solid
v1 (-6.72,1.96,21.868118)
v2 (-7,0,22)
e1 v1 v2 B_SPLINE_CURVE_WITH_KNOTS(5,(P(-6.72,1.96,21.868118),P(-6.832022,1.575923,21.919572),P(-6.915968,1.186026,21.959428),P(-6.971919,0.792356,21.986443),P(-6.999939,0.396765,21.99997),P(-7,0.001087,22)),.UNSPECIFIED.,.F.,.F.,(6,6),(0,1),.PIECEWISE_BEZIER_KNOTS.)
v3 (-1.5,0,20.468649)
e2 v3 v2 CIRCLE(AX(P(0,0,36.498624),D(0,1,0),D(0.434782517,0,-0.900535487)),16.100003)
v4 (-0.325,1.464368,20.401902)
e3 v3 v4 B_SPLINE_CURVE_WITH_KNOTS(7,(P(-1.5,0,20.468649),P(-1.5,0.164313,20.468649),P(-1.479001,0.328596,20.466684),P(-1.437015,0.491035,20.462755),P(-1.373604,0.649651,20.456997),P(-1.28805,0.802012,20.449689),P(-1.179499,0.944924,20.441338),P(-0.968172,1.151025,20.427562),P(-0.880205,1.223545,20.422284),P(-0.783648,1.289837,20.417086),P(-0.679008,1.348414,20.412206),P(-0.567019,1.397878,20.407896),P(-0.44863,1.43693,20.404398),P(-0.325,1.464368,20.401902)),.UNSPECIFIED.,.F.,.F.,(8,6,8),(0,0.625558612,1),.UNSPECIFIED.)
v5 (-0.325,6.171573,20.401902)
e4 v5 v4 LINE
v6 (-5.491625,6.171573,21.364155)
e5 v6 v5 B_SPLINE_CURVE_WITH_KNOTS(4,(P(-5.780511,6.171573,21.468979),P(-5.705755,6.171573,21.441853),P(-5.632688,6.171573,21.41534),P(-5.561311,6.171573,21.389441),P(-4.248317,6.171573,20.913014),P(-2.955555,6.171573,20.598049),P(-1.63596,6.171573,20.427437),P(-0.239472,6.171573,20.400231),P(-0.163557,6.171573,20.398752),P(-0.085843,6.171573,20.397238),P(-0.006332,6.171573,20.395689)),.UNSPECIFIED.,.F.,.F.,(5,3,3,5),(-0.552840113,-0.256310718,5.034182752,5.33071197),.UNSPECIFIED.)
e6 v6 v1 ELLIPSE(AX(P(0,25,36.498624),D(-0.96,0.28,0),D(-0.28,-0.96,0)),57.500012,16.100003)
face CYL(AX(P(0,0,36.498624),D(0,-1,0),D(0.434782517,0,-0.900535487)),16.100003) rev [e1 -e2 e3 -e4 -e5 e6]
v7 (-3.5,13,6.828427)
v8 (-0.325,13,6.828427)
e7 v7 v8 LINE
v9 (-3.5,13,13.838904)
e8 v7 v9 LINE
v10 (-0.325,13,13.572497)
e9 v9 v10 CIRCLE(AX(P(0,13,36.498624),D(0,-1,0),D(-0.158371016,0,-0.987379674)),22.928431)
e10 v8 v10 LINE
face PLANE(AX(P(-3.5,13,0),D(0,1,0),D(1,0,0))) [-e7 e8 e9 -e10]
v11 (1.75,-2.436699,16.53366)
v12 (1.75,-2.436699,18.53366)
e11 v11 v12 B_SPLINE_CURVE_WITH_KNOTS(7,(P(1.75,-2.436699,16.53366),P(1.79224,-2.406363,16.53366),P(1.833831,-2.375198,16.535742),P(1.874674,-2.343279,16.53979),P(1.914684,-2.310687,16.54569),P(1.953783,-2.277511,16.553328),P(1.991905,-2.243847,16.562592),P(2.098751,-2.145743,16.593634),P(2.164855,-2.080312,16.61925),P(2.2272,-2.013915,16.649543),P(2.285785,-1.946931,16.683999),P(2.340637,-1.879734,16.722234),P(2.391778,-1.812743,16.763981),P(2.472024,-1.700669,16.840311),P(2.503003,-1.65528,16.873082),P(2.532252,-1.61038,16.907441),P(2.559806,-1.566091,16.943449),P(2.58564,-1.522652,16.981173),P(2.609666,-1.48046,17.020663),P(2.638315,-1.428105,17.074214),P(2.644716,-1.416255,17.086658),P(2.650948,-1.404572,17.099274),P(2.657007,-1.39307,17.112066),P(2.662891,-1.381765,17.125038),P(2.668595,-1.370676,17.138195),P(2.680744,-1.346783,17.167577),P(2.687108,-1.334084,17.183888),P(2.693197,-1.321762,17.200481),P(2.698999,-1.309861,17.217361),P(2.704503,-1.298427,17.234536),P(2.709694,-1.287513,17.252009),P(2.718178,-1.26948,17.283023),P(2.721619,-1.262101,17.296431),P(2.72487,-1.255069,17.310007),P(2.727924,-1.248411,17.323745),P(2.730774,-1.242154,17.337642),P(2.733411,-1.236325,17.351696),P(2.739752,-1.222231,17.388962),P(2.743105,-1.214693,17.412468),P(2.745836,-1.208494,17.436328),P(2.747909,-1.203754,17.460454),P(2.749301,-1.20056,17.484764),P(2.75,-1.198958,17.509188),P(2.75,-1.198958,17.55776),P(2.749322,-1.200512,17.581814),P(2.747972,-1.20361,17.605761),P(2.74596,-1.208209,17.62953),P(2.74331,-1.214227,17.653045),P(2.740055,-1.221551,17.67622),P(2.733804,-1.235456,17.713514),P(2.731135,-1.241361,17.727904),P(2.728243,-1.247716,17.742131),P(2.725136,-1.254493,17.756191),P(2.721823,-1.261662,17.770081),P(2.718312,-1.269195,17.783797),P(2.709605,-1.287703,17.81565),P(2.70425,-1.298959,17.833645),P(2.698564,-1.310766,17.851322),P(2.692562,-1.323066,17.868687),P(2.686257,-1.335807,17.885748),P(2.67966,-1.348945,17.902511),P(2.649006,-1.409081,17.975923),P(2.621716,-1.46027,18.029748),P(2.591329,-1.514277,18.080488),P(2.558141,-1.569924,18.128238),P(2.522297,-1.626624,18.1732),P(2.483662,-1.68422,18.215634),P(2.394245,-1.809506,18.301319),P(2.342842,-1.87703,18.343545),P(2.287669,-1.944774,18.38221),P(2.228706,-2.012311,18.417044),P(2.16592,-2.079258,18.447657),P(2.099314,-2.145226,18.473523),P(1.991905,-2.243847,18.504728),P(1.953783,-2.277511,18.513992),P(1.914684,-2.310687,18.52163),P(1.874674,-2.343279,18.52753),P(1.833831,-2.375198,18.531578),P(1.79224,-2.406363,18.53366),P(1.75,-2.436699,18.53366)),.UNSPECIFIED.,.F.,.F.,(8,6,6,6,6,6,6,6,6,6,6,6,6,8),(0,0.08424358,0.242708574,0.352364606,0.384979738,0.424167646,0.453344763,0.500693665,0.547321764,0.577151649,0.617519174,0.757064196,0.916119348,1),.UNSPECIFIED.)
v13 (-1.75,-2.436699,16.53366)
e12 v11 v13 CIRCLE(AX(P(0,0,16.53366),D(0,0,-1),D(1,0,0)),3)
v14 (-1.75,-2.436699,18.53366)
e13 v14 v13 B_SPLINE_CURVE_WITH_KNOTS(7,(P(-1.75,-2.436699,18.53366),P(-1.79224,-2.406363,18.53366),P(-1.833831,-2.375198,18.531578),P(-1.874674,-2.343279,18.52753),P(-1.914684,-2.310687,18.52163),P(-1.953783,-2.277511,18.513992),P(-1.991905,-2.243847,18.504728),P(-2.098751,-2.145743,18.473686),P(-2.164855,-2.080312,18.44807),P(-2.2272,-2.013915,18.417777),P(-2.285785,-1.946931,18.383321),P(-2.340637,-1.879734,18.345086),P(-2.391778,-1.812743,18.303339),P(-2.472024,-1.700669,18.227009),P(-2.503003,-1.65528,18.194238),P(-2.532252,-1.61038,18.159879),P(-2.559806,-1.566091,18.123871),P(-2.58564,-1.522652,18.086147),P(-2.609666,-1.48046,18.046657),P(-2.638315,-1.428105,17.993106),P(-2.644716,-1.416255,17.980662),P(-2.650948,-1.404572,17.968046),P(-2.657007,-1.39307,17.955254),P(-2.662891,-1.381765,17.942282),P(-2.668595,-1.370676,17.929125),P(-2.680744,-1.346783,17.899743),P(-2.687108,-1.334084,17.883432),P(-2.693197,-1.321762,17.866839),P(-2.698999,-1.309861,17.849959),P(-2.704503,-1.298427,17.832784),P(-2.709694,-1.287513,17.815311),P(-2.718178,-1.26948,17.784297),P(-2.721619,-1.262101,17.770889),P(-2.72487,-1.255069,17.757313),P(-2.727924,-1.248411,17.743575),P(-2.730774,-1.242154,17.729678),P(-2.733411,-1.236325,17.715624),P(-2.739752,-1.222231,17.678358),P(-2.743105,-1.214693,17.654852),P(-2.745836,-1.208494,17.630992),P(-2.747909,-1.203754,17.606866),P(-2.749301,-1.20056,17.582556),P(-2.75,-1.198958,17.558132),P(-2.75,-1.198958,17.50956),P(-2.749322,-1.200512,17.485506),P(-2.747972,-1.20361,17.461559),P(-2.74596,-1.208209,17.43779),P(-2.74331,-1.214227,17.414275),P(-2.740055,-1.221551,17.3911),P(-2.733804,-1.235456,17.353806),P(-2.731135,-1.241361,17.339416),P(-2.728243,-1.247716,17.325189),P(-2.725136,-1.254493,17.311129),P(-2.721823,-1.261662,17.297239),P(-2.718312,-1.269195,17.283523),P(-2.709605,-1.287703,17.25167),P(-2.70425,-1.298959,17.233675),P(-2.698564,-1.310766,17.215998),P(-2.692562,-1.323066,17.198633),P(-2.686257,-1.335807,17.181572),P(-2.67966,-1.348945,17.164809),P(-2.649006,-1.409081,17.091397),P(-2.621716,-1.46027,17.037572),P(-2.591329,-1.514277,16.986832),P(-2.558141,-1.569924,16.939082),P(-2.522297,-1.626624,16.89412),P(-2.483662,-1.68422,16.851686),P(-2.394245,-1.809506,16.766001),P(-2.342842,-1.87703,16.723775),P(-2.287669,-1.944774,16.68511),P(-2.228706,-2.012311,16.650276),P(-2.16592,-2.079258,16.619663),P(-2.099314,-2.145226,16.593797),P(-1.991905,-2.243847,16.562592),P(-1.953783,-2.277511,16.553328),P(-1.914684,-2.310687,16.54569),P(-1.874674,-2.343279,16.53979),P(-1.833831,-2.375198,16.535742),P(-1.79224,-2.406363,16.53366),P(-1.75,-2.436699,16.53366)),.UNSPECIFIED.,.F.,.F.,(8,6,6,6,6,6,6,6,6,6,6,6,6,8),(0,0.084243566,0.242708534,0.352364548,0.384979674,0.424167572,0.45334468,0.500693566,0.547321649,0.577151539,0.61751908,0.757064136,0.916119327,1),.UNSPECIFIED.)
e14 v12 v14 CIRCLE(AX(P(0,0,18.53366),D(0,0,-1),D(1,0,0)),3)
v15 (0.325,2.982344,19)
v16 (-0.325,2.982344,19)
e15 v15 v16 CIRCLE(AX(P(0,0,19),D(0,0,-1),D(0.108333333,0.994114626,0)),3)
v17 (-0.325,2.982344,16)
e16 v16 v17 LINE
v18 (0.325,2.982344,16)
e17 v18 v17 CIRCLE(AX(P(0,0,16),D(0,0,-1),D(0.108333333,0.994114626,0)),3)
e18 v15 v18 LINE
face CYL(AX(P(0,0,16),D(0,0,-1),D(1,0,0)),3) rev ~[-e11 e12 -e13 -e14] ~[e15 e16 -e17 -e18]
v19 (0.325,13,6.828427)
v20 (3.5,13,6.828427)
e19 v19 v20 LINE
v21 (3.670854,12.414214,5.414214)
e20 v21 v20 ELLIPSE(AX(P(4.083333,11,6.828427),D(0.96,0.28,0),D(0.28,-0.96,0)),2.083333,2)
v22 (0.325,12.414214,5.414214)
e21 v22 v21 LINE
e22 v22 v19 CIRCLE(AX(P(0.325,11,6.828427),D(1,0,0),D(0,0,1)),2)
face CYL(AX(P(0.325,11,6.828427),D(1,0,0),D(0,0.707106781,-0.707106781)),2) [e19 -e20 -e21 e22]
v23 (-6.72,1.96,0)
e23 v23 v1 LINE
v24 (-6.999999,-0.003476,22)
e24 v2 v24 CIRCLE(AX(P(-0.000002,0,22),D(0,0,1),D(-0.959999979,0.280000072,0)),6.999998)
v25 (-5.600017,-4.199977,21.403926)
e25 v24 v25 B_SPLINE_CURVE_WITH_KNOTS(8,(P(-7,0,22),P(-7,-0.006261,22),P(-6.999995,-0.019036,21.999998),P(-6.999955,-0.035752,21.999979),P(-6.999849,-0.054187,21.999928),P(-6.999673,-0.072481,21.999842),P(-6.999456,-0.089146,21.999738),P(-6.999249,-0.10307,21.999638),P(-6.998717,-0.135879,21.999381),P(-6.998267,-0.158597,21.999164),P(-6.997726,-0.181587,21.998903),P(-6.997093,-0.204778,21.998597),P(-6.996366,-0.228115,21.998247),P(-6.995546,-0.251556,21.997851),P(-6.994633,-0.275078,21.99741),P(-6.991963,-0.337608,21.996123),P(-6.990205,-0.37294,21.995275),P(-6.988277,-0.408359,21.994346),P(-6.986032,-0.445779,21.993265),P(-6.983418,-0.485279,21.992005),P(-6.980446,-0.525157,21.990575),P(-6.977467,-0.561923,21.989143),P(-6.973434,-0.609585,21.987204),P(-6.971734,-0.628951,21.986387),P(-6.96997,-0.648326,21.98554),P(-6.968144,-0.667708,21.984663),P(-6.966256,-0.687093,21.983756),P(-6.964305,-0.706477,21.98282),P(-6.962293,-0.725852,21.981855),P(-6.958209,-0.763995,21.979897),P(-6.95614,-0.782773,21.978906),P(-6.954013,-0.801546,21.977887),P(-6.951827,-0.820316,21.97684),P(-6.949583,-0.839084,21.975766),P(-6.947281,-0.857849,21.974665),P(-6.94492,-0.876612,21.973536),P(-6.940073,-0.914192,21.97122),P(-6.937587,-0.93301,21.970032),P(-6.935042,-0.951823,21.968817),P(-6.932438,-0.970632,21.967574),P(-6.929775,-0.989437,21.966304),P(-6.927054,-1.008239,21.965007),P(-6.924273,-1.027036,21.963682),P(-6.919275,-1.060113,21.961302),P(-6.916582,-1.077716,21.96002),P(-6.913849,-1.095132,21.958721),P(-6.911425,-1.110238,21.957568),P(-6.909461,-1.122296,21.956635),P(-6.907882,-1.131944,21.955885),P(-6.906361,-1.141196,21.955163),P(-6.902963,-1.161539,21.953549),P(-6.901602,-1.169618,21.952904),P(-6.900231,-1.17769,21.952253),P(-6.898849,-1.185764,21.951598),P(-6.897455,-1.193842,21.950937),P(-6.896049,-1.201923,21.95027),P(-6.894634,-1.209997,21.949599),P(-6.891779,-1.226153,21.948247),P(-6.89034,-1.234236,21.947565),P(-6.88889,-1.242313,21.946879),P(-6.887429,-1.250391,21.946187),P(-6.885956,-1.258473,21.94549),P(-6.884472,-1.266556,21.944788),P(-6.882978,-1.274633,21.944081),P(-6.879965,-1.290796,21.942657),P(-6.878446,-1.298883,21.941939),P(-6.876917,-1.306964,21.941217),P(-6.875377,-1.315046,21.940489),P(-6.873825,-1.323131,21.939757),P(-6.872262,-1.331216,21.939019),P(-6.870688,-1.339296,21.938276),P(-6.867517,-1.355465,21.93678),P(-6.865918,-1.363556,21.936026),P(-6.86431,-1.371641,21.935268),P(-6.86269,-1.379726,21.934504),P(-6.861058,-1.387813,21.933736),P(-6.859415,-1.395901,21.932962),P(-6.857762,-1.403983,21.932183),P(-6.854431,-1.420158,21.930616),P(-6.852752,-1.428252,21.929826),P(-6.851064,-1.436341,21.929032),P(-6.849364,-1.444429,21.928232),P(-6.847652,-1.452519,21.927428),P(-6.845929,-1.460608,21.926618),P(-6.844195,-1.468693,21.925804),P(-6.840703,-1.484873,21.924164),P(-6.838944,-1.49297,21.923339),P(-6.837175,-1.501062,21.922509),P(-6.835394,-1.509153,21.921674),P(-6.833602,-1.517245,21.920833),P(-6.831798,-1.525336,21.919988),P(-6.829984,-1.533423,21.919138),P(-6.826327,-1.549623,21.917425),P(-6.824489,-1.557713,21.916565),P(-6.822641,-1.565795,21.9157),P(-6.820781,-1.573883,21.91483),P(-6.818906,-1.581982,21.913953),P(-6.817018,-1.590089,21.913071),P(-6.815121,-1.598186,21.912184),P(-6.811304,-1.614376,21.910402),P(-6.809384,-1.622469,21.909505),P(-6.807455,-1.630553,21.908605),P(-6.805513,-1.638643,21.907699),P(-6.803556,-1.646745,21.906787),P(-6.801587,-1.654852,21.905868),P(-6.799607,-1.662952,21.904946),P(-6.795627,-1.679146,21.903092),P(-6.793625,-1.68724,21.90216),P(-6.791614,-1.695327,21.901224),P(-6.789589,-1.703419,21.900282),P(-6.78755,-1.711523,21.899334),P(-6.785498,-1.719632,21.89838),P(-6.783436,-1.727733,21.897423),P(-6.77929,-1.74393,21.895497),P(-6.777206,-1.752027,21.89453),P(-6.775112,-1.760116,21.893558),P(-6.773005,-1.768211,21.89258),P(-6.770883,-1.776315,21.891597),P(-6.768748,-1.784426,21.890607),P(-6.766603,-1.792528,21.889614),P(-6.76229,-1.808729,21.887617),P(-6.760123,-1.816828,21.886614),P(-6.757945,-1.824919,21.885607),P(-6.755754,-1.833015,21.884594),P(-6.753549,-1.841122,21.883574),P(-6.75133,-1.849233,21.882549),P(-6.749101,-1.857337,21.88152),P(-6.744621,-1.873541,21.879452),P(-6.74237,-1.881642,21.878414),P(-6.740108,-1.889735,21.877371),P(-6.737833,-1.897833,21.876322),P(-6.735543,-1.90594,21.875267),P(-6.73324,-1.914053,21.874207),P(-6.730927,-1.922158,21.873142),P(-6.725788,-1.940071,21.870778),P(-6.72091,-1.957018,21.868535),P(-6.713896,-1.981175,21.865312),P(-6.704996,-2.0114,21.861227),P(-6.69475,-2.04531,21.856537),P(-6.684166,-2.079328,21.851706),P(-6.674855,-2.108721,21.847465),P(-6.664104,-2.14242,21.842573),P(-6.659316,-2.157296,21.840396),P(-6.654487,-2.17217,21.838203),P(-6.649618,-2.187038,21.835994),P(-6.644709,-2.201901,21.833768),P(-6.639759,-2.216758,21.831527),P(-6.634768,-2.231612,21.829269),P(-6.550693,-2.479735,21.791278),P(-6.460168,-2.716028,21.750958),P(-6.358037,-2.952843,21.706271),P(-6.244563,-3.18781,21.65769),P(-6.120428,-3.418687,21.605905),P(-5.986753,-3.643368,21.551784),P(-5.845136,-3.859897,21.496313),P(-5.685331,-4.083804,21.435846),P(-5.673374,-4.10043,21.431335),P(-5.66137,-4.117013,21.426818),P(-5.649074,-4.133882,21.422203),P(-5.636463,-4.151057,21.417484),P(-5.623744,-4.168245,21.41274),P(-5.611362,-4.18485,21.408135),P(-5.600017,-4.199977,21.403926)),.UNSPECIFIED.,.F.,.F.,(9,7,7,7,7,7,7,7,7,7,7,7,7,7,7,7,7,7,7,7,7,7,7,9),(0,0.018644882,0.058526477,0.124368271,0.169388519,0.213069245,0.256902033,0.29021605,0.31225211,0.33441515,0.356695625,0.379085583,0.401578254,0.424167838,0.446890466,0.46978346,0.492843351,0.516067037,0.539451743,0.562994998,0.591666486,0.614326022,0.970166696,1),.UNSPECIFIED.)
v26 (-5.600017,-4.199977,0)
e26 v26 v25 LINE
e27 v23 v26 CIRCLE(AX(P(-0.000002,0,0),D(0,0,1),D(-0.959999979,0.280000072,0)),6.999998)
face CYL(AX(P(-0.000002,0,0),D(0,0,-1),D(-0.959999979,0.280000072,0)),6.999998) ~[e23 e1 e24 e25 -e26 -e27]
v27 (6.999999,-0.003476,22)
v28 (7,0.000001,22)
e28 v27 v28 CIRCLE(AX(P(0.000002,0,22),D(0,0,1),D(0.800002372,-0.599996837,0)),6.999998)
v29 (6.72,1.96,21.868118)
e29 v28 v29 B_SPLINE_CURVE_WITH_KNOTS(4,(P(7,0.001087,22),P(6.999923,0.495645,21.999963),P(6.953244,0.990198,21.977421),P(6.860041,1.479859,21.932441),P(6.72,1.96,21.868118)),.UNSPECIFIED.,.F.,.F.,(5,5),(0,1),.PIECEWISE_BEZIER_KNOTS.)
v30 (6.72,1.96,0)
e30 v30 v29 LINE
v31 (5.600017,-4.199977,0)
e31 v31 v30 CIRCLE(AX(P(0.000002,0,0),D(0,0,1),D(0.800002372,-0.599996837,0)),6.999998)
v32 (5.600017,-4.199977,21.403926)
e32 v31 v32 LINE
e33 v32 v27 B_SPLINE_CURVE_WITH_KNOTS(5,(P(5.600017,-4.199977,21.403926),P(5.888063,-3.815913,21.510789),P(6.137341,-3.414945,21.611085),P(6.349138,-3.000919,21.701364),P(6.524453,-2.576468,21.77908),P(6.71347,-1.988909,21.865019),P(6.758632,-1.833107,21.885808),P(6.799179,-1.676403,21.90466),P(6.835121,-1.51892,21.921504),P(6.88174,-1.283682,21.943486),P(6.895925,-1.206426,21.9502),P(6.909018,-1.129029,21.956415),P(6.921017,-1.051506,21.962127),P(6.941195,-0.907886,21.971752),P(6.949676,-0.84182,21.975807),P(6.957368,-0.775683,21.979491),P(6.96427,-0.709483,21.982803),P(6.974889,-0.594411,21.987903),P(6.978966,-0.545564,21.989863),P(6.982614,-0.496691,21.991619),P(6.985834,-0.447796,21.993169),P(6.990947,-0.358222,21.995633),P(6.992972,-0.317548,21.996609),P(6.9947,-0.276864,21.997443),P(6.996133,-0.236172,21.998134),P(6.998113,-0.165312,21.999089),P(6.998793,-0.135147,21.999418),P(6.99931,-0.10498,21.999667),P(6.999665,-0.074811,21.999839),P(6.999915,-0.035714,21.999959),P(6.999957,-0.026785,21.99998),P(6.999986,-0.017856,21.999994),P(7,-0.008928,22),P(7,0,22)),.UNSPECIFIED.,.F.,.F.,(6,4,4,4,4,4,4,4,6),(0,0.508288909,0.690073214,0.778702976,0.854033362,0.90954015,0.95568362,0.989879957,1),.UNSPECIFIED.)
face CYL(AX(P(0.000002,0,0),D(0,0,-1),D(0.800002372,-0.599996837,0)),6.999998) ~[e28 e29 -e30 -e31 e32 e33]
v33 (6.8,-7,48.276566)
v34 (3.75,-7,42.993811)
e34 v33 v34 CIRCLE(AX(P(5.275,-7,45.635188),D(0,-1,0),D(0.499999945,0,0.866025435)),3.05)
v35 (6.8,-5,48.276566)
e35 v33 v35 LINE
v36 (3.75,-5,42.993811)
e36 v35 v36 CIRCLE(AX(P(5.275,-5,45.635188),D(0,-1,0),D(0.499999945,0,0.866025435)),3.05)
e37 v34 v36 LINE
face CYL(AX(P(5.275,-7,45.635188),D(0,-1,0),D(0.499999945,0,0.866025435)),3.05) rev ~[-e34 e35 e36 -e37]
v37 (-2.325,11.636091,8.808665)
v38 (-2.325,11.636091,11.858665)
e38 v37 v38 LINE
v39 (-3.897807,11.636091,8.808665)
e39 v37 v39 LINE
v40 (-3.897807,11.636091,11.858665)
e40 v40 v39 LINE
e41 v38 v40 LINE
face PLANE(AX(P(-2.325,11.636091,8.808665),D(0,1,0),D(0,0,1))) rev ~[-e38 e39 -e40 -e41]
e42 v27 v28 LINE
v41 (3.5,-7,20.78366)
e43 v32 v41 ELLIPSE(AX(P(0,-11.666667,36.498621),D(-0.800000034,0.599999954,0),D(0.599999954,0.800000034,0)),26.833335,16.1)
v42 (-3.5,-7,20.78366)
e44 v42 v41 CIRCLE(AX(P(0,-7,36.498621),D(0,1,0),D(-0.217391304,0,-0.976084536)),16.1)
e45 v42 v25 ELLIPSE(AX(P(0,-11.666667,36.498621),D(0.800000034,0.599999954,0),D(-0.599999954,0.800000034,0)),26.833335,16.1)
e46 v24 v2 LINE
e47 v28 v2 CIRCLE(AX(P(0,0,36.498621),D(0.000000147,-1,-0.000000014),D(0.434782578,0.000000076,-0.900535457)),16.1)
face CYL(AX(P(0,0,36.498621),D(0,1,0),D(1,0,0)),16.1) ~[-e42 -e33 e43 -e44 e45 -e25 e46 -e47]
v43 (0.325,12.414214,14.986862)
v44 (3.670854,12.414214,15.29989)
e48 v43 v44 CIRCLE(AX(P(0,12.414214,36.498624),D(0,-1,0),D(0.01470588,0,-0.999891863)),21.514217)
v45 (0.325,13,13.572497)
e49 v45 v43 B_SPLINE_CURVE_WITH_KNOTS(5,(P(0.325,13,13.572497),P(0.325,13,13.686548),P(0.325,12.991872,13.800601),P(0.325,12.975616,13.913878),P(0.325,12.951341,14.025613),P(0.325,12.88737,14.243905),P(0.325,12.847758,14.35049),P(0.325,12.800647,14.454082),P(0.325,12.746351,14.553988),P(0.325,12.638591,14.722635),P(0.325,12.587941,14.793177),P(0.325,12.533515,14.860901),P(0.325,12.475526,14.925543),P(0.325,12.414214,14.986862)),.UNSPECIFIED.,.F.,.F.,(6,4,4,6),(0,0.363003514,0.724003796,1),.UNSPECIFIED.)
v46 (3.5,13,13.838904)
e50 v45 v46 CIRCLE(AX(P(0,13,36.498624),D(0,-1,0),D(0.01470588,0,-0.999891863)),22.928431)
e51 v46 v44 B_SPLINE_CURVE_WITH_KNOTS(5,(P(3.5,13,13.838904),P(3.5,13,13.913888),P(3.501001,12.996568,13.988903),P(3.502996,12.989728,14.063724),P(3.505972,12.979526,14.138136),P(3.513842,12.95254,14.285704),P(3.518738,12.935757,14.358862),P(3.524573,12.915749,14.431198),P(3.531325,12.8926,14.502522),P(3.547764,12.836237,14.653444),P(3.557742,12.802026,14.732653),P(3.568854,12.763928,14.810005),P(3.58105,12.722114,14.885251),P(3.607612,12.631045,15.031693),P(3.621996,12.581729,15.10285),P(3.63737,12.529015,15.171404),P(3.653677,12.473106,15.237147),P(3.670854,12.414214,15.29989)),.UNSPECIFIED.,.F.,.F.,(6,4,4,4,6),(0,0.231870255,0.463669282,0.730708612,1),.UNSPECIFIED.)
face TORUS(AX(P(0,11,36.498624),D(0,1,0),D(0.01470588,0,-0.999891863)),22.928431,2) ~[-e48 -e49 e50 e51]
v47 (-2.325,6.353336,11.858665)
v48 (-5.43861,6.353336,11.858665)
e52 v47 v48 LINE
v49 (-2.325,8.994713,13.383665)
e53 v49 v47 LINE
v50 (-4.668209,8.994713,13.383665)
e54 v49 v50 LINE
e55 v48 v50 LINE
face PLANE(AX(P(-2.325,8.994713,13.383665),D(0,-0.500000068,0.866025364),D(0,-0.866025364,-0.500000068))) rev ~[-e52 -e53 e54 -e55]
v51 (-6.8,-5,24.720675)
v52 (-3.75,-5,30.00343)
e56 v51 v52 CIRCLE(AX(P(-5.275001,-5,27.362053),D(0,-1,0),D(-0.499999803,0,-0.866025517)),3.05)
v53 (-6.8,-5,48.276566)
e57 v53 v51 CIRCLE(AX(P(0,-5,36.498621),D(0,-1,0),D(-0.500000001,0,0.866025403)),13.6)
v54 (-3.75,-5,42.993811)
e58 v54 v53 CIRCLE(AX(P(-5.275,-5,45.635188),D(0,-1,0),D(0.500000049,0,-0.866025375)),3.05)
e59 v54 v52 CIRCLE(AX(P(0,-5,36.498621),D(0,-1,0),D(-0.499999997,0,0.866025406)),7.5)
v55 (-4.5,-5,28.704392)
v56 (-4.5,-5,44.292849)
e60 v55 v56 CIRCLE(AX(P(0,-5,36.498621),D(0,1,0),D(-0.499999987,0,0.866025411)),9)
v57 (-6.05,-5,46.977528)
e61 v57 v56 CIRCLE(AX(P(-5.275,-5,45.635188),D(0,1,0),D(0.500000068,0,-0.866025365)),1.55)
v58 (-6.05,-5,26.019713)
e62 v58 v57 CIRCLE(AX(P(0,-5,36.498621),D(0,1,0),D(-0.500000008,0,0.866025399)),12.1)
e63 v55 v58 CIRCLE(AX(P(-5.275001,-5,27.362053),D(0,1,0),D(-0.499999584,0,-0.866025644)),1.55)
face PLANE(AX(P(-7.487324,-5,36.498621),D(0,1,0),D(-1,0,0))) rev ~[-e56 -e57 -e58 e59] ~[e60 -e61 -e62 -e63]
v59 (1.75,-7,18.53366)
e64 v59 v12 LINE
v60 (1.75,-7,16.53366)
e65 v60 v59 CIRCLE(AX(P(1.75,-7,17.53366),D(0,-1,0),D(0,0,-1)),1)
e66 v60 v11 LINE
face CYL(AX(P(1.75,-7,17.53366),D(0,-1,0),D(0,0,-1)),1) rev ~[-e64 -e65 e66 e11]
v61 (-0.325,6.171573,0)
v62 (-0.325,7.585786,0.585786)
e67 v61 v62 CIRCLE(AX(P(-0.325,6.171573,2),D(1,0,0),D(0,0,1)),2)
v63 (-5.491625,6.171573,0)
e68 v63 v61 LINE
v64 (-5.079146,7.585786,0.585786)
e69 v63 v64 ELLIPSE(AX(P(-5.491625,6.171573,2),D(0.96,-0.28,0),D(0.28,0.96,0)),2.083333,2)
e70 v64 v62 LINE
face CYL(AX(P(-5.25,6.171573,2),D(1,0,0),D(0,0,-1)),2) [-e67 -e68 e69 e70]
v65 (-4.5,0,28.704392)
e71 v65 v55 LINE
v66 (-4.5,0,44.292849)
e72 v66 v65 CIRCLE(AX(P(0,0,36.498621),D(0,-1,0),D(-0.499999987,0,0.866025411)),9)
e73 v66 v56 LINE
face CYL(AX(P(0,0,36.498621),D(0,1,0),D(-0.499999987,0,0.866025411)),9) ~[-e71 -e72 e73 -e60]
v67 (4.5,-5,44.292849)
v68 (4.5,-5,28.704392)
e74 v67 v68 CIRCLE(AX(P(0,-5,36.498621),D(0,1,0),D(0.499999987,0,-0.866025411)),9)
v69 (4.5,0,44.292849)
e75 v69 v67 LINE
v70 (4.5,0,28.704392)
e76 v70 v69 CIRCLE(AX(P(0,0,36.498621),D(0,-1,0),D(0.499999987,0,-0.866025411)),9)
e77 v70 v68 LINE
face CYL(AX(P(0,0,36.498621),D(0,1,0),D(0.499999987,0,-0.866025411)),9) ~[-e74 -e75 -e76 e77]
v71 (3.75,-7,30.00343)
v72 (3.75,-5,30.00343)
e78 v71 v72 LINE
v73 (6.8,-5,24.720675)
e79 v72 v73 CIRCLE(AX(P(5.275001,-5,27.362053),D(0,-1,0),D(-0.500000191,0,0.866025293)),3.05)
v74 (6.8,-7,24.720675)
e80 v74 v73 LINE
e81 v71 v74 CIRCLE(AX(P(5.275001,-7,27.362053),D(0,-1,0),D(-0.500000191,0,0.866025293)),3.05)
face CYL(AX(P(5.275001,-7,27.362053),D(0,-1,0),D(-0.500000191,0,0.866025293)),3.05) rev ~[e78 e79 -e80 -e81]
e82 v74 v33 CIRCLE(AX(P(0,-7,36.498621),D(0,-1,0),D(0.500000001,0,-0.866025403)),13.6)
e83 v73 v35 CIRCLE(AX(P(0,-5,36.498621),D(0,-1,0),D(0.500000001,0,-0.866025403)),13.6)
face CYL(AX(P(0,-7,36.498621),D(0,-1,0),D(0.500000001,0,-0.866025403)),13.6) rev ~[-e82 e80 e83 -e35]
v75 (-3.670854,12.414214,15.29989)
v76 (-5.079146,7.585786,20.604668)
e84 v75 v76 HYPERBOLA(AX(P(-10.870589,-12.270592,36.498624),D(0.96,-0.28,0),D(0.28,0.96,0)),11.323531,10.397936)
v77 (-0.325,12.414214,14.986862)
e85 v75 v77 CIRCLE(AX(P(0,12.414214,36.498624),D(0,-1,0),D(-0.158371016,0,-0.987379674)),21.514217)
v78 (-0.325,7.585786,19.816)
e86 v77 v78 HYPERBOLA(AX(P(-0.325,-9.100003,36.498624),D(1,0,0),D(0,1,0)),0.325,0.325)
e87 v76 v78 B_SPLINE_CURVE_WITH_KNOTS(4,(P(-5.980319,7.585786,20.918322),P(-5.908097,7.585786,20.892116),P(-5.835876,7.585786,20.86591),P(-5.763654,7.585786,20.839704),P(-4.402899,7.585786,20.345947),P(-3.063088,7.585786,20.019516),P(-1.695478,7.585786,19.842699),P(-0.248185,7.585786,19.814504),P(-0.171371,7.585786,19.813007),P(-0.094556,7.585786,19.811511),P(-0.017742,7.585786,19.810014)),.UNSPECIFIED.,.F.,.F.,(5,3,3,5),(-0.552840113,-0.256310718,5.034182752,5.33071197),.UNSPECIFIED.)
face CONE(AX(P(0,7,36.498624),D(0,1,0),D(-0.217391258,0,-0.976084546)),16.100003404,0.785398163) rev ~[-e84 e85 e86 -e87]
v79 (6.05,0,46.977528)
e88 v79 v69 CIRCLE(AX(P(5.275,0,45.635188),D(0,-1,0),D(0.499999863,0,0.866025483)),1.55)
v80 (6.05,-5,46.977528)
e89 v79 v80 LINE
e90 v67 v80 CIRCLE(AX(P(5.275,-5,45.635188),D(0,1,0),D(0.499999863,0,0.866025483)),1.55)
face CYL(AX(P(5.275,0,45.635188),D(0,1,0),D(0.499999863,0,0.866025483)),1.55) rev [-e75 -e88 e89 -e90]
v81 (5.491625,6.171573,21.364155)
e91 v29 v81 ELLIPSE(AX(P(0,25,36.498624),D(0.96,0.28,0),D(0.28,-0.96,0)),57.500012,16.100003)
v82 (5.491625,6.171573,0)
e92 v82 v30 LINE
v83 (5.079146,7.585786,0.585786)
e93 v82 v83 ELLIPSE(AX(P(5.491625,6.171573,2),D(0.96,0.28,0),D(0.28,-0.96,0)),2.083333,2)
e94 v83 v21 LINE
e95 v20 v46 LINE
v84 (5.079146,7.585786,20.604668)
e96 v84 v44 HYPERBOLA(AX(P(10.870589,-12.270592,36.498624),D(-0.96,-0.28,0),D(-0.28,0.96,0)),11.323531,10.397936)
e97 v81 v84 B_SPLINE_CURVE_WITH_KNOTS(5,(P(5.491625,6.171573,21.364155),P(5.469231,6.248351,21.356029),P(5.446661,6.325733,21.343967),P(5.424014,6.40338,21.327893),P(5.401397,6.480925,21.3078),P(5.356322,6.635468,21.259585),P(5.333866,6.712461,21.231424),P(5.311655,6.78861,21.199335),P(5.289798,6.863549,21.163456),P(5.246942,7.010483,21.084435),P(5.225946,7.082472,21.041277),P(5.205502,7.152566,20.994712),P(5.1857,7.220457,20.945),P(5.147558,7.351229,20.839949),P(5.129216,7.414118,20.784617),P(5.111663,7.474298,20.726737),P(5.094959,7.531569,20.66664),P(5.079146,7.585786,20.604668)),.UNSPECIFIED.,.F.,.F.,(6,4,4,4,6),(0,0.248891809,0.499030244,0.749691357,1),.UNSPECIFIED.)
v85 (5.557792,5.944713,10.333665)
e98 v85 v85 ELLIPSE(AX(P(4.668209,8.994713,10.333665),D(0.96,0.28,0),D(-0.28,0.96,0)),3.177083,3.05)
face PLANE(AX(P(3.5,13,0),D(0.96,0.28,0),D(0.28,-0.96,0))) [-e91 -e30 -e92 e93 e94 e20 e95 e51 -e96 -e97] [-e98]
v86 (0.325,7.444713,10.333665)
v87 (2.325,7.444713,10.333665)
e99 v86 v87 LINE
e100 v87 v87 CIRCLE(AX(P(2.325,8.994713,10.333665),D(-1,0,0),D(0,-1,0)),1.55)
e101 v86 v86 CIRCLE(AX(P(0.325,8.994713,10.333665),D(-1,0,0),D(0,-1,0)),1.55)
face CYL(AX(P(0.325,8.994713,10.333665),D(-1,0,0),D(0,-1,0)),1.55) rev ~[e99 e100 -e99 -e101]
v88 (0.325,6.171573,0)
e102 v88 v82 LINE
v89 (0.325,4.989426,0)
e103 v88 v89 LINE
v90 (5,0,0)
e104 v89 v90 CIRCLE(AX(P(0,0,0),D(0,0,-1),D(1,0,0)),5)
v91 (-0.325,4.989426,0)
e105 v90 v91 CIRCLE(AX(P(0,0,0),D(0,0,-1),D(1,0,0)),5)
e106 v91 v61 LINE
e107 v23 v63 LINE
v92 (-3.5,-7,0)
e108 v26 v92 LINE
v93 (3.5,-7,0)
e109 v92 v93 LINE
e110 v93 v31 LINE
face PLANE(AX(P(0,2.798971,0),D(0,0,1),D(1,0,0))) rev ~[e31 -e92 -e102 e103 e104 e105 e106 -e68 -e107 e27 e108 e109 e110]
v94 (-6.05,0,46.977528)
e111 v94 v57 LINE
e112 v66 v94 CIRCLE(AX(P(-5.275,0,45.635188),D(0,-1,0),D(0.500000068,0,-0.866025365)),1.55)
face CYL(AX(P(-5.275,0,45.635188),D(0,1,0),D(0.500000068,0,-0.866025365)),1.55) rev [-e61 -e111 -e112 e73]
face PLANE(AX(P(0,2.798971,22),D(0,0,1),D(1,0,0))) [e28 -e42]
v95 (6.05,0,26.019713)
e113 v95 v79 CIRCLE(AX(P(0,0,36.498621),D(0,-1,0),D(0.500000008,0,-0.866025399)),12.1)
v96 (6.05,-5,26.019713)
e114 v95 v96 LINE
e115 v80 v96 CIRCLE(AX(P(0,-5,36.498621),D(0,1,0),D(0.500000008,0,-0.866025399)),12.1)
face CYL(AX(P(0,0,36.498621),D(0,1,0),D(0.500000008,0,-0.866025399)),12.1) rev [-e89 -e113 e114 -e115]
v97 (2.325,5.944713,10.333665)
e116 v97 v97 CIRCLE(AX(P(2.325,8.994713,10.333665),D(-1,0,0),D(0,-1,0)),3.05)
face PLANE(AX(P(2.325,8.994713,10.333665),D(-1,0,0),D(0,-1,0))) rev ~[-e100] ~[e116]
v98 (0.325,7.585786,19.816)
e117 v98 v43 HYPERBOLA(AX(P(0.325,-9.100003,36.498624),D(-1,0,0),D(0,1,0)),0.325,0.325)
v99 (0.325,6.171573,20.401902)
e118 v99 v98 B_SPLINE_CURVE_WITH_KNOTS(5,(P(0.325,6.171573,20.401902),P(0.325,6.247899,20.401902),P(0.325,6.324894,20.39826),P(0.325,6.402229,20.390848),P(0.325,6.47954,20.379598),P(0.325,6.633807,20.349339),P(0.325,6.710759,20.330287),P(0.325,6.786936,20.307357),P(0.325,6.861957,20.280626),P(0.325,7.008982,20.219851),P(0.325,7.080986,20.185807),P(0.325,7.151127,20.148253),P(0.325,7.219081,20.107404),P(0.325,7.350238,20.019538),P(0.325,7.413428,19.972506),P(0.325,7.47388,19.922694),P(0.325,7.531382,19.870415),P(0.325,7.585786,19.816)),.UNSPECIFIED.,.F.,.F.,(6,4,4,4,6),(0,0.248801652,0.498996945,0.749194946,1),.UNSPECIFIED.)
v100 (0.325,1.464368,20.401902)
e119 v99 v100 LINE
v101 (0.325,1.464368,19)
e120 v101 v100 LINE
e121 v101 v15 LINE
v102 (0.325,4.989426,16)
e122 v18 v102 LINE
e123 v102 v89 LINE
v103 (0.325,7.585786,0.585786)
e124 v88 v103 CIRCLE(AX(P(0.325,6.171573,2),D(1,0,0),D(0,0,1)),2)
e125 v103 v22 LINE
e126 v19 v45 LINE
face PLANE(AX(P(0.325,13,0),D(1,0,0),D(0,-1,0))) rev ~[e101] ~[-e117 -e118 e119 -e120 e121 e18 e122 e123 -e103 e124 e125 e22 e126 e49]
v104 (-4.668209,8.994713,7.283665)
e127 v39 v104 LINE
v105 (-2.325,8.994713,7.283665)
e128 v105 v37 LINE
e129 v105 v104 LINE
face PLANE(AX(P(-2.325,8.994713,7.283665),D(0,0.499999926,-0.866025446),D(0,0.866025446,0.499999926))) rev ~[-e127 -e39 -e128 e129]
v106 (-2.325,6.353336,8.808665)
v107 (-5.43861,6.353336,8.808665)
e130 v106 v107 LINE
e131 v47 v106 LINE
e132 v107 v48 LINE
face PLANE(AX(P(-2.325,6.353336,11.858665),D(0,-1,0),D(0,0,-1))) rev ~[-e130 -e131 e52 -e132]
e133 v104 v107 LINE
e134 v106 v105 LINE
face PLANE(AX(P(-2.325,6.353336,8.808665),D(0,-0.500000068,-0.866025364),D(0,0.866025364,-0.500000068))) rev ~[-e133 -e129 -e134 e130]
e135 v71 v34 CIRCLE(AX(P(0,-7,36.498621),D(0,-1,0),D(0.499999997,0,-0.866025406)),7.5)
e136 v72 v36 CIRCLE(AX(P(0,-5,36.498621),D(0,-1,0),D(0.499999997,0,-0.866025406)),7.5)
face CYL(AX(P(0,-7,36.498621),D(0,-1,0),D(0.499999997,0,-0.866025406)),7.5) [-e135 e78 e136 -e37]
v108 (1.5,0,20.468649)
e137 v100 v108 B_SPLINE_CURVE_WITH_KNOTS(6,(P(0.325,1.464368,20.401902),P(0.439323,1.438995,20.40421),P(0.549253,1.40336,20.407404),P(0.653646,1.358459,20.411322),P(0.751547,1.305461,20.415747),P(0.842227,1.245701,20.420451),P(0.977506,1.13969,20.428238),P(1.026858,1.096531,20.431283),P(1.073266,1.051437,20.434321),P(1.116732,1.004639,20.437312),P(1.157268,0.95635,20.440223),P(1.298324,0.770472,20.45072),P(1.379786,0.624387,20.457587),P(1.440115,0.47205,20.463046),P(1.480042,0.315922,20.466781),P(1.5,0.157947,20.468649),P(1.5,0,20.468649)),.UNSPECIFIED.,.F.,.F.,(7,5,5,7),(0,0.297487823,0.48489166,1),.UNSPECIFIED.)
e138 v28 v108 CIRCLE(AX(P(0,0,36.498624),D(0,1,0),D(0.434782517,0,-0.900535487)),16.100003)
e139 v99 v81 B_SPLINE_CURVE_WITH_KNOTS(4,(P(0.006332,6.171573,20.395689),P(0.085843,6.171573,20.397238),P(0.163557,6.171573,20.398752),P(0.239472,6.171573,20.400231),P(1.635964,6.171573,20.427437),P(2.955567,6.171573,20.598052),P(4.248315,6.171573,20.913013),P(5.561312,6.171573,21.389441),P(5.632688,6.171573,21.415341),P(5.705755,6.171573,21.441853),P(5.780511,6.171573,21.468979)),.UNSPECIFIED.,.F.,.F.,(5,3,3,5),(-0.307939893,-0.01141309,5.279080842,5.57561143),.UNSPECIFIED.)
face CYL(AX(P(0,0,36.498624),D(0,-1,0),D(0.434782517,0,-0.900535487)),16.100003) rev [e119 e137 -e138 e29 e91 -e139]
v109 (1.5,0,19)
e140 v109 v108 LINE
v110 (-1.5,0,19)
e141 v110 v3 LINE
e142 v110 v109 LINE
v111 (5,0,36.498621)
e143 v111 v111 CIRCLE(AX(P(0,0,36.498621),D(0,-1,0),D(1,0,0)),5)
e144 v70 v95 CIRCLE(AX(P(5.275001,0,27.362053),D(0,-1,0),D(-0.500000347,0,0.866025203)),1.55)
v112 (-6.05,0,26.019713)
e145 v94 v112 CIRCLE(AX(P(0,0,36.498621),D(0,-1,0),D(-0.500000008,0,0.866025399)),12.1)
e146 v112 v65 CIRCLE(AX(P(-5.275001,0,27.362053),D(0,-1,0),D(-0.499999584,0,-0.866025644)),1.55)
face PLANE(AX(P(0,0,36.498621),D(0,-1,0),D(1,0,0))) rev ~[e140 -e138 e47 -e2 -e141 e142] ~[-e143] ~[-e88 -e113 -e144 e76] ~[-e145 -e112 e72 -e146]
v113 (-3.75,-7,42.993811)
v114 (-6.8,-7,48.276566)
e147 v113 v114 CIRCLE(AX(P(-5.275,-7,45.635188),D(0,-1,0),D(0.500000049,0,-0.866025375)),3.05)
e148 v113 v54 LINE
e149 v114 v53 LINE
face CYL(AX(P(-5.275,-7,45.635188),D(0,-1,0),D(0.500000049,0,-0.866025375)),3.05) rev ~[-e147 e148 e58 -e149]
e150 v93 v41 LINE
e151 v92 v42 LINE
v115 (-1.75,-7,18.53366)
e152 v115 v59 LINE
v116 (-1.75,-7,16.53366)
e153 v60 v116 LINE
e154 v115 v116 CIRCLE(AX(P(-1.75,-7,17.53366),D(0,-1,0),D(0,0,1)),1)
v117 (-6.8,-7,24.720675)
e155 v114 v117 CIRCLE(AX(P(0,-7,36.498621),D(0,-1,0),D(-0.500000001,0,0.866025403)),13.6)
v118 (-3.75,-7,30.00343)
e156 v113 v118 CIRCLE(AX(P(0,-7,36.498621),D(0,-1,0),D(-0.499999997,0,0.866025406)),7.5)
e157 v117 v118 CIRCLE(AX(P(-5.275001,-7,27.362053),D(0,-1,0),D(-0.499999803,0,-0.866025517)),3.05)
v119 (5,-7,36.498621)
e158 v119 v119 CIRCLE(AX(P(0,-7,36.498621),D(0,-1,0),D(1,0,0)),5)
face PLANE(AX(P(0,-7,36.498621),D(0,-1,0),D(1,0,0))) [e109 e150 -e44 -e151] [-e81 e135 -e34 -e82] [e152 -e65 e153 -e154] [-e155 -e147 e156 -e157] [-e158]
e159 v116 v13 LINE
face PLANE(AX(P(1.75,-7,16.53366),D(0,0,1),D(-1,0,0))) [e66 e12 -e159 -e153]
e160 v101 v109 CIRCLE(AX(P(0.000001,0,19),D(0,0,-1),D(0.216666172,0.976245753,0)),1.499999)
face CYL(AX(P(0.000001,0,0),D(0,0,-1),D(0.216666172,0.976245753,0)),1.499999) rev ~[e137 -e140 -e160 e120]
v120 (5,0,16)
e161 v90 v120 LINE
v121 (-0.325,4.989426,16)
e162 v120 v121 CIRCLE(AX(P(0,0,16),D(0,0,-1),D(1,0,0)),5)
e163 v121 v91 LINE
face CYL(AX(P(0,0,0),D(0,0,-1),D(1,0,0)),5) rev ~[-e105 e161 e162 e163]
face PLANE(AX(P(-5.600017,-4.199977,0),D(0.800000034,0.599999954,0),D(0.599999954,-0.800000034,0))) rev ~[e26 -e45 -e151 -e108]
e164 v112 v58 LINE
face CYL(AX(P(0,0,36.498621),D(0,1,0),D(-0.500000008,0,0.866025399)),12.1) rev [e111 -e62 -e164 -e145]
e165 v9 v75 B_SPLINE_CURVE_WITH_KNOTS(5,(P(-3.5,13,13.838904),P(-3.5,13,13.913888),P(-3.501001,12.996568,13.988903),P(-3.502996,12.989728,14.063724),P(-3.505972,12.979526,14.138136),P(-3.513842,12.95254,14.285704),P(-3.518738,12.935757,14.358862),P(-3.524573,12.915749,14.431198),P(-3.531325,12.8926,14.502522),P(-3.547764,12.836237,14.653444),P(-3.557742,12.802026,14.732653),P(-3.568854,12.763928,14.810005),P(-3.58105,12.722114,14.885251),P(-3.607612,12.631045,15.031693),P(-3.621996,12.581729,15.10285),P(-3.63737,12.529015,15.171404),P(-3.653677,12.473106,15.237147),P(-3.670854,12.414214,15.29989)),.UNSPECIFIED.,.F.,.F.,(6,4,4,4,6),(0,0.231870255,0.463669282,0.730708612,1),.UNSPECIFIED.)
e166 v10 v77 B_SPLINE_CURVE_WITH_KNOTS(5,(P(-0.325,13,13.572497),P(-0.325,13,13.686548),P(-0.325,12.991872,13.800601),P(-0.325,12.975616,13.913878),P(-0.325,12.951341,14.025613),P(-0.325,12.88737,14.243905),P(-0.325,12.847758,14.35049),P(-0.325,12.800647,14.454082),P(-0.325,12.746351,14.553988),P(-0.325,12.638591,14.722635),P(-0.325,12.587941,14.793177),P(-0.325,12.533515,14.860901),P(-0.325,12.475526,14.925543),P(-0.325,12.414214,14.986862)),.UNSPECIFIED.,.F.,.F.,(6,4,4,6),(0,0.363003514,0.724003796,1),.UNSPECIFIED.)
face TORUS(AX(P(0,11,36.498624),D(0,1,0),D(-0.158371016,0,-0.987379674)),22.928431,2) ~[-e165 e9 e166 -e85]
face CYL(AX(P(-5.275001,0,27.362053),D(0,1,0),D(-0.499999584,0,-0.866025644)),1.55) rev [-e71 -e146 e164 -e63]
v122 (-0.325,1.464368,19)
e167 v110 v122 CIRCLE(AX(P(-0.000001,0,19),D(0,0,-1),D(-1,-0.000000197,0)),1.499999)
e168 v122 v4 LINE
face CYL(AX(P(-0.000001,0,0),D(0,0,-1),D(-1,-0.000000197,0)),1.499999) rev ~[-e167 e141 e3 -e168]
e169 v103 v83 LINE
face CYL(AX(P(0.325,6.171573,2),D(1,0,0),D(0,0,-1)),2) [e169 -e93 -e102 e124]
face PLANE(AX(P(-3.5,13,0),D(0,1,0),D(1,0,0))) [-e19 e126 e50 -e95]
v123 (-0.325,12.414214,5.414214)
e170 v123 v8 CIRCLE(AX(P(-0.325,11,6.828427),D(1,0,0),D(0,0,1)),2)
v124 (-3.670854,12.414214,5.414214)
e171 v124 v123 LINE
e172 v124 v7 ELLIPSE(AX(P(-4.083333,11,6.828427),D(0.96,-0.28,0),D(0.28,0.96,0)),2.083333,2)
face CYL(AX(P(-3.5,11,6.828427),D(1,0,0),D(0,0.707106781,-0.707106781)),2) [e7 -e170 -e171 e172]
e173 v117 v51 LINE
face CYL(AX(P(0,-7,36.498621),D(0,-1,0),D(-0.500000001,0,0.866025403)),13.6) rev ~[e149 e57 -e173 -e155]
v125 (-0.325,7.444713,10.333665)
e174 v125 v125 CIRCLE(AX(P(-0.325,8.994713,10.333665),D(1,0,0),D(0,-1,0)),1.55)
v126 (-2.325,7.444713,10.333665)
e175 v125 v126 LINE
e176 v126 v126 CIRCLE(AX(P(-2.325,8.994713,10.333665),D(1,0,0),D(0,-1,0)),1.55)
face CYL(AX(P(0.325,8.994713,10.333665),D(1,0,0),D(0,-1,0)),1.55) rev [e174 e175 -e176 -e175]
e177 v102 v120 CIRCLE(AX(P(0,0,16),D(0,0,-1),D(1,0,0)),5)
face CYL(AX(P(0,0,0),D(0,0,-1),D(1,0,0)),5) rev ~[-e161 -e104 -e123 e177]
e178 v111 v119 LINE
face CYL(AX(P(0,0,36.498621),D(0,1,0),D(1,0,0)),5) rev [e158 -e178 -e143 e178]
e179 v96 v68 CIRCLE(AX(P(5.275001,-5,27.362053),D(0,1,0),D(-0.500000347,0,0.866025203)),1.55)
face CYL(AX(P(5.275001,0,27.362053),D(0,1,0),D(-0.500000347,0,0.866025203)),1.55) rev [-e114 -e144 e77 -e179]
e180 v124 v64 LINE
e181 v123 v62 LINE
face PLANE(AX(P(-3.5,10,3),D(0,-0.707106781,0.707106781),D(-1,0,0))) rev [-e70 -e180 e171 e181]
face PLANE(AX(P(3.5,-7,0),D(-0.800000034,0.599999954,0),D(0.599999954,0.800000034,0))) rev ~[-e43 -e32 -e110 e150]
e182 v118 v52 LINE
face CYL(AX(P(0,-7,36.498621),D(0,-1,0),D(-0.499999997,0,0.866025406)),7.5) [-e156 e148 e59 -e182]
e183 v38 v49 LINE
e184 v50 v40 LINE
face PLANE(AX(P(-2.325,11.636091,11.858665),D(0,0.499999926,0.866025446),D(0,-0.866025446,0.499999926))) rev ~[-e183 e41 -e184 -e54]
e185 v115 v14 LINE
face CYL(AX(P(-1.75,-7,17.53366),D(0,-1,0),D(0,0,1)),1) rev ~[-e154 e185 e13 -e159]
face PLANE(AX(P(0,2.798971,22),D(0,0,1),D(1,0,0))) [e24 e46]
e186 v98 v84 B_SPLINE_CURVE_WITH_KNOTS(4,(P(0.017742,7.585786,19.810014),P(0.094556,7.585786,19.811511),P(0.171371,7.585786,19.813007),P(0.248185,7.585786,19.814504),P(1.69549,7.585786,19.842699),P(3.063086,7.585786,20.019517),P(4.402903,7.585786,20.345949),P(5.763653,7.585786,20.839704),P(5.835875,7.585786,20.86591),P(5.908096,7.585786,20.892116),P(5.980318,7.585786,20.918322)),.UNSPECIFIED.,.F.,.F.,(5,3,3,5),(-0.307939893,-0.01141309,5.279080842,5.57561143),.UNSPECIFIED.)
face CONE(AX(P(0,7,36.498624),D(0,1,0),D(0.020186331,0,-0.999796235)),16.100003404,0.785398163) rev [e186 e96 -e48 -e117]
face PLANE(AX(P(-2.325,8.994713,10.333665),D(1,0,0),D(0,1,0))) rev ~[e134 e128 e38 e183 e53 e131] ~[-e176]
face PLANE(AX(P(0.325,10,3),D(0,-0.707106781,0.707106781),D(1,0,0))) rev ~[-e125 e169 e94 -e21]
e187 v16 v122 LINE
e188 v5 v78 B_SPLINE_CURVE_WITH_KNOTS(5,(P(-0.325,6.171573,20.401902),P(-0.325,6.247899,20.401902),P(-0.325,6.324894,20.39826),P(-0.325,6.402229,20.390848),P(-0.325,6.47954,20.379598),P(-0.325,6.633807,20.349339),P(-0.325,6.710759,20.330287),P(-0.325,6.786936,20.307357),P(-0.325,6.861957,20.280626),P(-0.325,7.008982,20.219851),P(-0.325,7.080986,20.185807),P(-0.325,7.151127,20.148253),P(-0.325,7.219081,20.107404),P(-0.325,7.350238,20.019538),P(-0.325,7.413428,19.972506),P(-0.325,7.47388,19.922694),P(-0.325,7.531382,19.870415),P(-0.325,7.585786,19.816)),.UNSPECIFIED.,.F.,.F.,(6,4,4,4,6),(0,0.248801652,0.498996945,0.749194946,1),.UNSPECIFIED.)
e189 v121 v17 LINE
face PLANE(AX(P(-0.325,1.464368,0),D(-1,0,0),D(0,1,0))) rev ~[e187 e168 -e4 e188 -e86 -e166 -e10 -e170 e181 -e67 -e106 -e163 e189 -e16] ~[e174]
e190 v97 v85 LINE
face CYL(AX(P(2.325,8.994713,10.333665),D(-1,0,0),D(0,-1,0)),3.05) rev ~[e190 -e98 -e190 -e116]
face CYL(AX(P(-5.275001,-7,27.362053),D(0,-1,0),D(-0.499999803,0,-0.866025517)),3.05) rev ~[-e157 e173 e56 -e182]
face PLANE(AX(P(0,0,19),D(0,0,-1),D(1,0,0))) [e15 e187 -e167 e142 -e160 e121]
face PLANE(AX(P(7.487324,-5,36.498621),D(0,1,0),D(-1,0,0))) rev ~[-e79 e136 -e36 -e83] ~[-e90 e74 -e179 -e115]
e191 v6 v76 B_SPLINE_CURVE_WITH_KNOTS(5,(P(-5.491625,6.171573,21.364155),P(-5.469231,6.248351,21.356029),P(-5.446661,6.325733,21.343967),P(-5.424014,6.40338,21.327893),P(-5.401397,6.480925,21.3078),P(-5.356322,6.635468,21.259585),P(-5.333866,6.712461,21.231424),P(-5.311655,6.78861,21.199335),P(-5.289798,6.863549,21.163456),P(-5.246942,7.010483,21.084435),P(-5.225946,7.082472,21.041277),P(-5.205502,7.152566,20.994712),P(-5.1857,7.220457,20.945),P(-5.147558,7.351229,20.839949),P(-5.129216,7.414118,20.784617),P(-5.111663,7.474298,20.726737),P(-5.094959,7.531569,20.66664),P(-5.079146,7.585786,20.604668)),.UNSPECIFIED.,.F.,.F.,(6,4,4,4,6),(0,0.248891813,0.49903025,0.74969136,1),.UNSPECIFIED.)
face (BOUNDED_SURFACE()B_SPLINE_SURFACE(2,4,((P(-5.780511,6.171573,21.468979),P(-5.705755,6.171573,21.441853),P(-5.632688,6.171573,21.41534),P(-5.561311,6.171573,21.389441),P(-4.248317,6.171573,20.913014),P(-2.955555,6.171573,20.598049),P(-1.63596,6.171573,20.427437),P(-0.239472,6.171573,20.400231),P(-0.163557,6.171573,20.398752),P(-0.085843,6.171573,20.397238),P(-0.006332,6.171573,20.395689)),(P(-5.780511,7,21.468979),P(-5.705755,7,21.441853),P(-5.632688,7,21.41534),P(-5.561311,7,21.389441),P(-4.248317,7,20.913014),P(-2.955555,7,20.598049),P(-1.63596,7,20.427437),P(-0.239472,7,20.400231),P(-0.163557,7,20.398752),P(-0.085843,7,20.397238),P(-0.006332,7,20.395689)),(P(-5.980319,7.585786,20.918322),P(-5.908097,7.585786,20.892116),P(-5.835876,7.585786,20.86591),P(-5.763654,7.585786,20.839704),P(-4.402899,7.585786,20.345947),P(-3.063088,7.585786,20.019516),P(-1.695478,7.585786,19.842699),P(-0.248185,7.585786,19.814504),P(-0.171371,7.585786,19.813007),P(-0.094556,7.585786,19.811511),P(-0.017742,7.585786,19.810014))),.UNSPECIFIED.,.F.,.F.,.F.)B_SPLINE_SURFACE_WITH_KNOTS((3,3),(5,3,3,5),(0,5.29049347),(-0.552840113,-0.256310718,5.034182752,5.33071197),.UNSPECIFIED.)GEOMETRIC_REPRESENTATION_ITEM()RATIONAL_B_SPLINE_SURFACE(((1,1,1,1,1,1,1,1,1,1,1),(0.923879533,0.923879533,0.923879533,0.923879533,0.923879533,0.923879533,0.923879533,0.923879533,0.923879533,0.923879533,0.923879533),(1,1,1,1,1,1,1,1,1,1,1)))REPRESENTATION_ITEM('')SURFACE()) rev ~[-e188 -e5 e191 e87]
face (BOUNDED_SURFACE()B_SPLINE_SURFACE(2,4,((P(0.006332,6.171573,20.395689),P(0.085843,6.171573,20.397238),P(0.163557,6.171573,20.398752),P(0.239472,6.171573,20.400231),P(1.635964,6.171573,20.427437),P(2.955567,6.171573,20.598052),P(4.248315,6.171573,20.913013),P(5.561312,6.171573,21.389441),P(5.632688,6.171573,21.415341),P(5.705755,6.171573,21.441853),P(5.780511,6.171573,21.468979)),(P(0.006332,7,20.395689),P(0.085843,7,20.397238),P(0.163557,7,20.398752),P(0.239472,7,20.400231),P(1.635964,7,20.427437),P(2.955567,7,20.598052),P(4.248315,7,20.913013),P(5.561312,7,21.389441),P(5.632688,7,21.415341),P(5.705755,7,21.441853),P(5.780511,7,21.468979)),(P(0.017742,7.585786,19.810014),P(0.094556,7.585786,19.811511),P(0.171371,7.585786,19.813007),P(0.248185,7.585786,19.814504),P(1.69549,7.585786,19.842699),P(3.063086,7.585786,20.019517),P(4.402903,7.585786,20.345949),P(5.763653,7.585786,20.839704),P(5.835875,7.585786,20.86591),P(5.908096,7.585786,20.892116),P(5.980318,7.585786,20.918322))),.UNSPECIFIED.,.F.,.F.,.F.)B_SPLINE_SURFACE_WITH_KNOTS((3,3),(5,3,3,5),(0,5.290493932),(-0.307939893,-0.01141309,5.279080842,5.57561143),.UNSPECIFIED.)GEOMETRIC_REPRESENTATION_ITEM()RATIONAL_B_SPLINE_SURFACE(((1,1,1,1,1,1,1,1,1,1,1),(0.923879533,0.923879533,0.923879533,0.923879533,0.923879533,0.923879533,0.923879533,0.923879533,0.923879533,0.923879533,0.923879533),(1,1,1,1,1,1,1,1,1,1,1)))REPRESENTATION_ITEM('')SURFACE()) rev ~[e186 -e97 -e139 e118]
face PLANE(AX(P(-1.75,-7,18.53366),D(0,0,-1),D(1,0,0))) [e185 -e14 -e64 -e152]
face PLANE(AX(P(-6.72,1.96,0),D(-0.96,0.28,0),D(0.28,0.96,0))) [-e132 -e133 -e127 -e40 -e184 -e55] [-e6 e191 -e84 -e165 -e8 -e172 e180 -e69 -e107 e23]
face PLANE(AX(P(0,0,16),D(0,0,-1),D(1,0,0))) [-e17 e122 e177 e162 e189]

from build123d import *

# Parameters (mm, degrees)
EXTRUDE003_DEPTH                     = 10
SKETCH009_R                          = 3.05
EXTRUDE002_DEPTH                     = 10
SKETCH001_AS_DRAWN_R                 = 16.1
SKETCH001_AS_DRAWN_R_2               = 5
EXTRUDE001_DEPTH                     = 7
EXTRUDE001_ONTO_SKETCH001_ROLL_ANGLE = 90
EXTRUDE_DEPTH                        = 22
POCKET_DEPTH                         = 13.001
POCKET001_DEPTH                      = 52.599621
CHAMFER_SIZE                         = 6
FILLET_R                             = 2
SKETCH004_R                          = 5
POCKET002_DEPTH                      = 16
SKETCH005_R                          = 1.55
POCKET003_DEPTH                      = 15.776
POCKET003_DEPTH_BACK                 = -16.426
SKETCH006_R                          = 3
POCKET004_DEPTH                      = 3
POCKET005_DEPTH                      = 7
POCKET006_DEPTH                      = 2


with BuildPart() as extrude003:
    # Sketch010 → Extrude003 (new body)
    with BuildSketch(Plane.YZ.offset(-0.325)):
        Polygon((8.994713, 13.383665), (6.353336, 11.858665), (6.353336, 8.808665), (8.994713, 7.283665), (11.636091, 8.808665), (11.636091, 11.858665), align=None)
    extrude(amount=-EXTRUDE003_DEPTH)


with BuildPart() as extrude003_1:
    # Extrude003 placement: moved
    add(extrude003.part.moved(Location((-2, 0, 0))))


with BuildPart() as extrude002:
    # Sketch009 → Extrude002 (new body)
    with BuildSketch(Plane(origin=(0.325, 0, 0), x_dir=(0, -1, 0), z_dir=(-1, 0, 0))):
        with Locations((-8.994713, 10.333665)):
            Circle(SKETCH009_R)
    extrude(amount=-EXTRUDE002_DEPTH)


with BuildPart() as extrude002_1:
    # Extrude002 placement: moved
    add(extrude002.part.moved(Location((2, 0, 0))))


with BuildPart() as extrude001:
    # Sketch001 as drawn → Extrude001 (new)
    with BuildSketch(Plane.XY):
        with Locations((0, 36.498621)):
            Circle(SKETCH001_AS_DRAWN_R)
        with Locations((0, 36.498621)):
            Circle(SKETCH001_AS_DRAWN_R_2, mode=Mode.SUBTRACT)
        with BuildLine():
            ThreePointArc((-4.5, 44.292849), (-9, 36.498621), (-4.5, 28.704392))
            ThreePointArc((-6.05, 26.019713), (-3.932661, 26.587053), (-4.5, 28.704392))
            ThreePointArc((-6.05, 46.977528), (-12.1, 36.498621), (-6.05, 26.019713))
            ThreePointArc((-4.5, 44.292849), (-3.932661, 46.410189), (-6.05, 46.977528))
        make_face(mode=Mode.SUBTRACT)
        with BuildLine():
            ThreePointArc((4.5, 28.704392), (9, 36.498621), (4.5, 44.292849))
            ThreePointArc((6.05, 46.977528), (3.932661, 46.410189), (4.5, 44.292849))
            ThreePointArc((6.05, 26.019713), (12.1, 36.498621), (6.05, 46.977528))
            ThreePointArc((4.5, 28.704392), (3.932661, 26.587053), (6.05, 26.019713))
        make_face(mode=Mode.SUBTRACT)
    extrude(amount=EXTRUDE001_DEPTH)


with BuildPart() as extrude001_1:
    # Extrude001 onto Sketch001 roll: moved
    add(extrude001.part.rotate(Axis((0, 0, 0), (1, 0, 0)), EXTRUDE001_ONTO_SKETCH001_ROLL_ANGLE))


with BuildPart() as extrude001_2:
    # Extrude001 onto Sketch001 placement: moved
    add(extrude001_1.part)


with BuildPart() as cut001:
    # Sketch → Extrude (new body)
    with BuildSketch(Plane.XY):
        with BuildLine():
            ThreePointArc((-6.72, 1.96), (-6.887092, -1.252184), (-5.600017, -4.199977))
            Line((-5.600017, -4.199977), (-3.5, -7))
            Line((-3.5, -7), (3.5, -7))
            Line((3.5, -7), (5.600017, -4.199977))
            ThreePointArc((5.600017, -4.199977), (6.887092, -1.252184), (6.72, 1.96))
            Line((3.5, 13), (6.72, 1.96))
            Line((-3.5, 13), (3.5, 13))
            Line((-6.72, 1.96), (-3.5, 13))
        make_face()
    extrude(amount=EXTRUDE_DEPTH)

    # Fusion: union Extrude001
    add(extrude001_2.part)

    # Sketch002 → Pocket (cut, through all)
    with BuildSketch(Plane(origin=(0, 0, 0), x_dir=(-1, 0, 0), z_dir=(0, 1, 0))):
        with BuildLine():
            ThreePointArc((-7, 22), (0, 20.398621), (7, 22))
            Line((-7, 22), (7, 22))
        make_face()
    extrude(amount=POCKET_DEPTH, mode=Mode.SUBTRACT)

    # Sketch003 → Pocket001 (cut, through all)
    with BuildSketch(Plane(origin=(0, 0, 0), x_dir=(1, 0, 0), z_dir=(0, 0, -1))):
        with BuildLine():
            Line((-1.5, 0), (1.5, 0))
            ThreePointArc((0.325, -1.464368), (1.169936, -0.938749), (1.5, 0))
            Line((0.325, -13), (0.325, -1.464368))
            Line((-0.325, -13), (0.325, -13))
            Line((-0.325, -1.464368), (-0.325, -13))
            ThreePointArc((-1.5, 0), (-1.169936, -0.938749), (-0.325, -1.464368))
        make_face()
    extrude(amount=-POCKET001_DEPTH, mode=Mode.SUBTRACT)

    # Chamfer
    chamfer_edges = [cut001.edges().sort_by_distance(p)[0] for p in [
        (-1.9125, 13, 0),
        (1.9125, 13, 0),
        (-1.922002, 13, 20.513756),
        (1.922002, 13, 20.513756),
    ]]
    chamfer(chamfer_edges, length=CHAMFER_SIZE)

    # Fillet
    fillet_edges = [cut001.edges().sort_by_distance(p)[0] for p in [
        (-2.7875, 7, 0),
        (2.7875, 7, 0),
        (-1.9125, 13, 6),
        (1.9125, 13, 6),
        (-1.917491, 13, 14.481963),
        (-2.82176, 7, 20.647827),
        (2.82176, 7, 20.647827),
        (1.917491, 13, 14.481963),
    ]]
    fillet(fillet_edges, radius=FILLET_R)

    # Sketch004 → Pocket002 (cut)
    with BuildSketch(Plane(origin=(0, 0, 0), x_dir=(1, 0, 0), z_dir=(0, 0, -1))):
        Circle(SKETCH004_R)
    extrude(amount=-POCKET002_DEPTH, mode=Mode.SUBTRACT)

    # Sketch005 → Pocket003 (cut, two sides)
    with BuildSketch(Plane(origin=(0.325, 0, 0), x_dir=(0, -1, 0), z_dir=(-1, 0, 0))) as pocket003_sk:
        with Locations((-8.994713, 10.333665)):
            Circle(SKETCH005_R)
    extrude(amount=-POCKET003_DEPTH, mode=Mode.SUBTRACT)
    extrude(pocket003_sk.sketch, amount=-POCKET003_DEPTH_BACK, mode=Mode.SUBTRACT)

    # Sketch006 → Pocket004 (cut)
    with BuildSketch(Plane(origin=(0, 0, 16), x_dir=(1, 0, 0), z_dir=(0, 0, -1))):
        Circle(SKETCH006_R)
    extrude(amount=-POCKET004_DEPTH, mode=Mode.SUBTRACT)

    # Sketch007 → Pocket005 (cut)
    with BuildSketch(Plane.XZ.offset(7)):
        with BuildLine():
            Line((-1.75, 18.53366), (1.75, 18.53366))
            ThreePointArc((1.75, 16.53366), (2.75, 17.53366), (1.75, 18.53366))
            Line((1.75, 16.53366), (-1.75, 16.53366))
            ThreePointArc((-1.75, 18.53366), (-2.75, 17.53366), (-1.75, 16.53366))
        make_face()
    extrude(amount=-POCKET005_DEPTH, mode=Mode.SUBTRACT)

    # Sketch008 → Pocket006 (cut)
    with BuildSketch(Plane.XZ.offset(7)):
        with BuildLine():
            ThreePointArc((-3.75, 42.993811), (-7.5, 36.498621), (-3.75, 30.00343))
            ThreePointArc((-6.8, 24.720675), (-2.633623, 25.837053), (-3.75, 30.00343))
            ThreePointArc((-6.8, 48.276566), (-13.6, 36.498621), (-6.8, 24.720675))
            ThreePointArc((-3.75, 42.993811), (-2.633623, 47.160189), (-6.8, 48.276566))
        make_face()
        with BuildLine():
            ThreePointArc((3.75, 30.00343), (7.5, 36.498621), (3.75, 42.993811))
            ThreePointArc((6.8, 48.276566), (2.633623, 47.160189), (3.75, 42.993811))
            ThreePointArc((6.8, 24.720675), (13.6, 36.498621), (6.8, 48.276566))
            ThreePointArc((3.75, 30.00343), (2.633623, 25.837053), (6.8, 24.720675))
        make_face()
    extrude(amount=-POCKET006_DEPTH, mode=Mode.SUBTRACT)

    # Cut: cut Extrude002
    add(extrude002_1.part, mode=Mode.SUBTRACT)

    # Cut001: cut Extrude003
    add(extrude003_1.part, mode=Mode.SUBTRACT)


solid = cut001.part
